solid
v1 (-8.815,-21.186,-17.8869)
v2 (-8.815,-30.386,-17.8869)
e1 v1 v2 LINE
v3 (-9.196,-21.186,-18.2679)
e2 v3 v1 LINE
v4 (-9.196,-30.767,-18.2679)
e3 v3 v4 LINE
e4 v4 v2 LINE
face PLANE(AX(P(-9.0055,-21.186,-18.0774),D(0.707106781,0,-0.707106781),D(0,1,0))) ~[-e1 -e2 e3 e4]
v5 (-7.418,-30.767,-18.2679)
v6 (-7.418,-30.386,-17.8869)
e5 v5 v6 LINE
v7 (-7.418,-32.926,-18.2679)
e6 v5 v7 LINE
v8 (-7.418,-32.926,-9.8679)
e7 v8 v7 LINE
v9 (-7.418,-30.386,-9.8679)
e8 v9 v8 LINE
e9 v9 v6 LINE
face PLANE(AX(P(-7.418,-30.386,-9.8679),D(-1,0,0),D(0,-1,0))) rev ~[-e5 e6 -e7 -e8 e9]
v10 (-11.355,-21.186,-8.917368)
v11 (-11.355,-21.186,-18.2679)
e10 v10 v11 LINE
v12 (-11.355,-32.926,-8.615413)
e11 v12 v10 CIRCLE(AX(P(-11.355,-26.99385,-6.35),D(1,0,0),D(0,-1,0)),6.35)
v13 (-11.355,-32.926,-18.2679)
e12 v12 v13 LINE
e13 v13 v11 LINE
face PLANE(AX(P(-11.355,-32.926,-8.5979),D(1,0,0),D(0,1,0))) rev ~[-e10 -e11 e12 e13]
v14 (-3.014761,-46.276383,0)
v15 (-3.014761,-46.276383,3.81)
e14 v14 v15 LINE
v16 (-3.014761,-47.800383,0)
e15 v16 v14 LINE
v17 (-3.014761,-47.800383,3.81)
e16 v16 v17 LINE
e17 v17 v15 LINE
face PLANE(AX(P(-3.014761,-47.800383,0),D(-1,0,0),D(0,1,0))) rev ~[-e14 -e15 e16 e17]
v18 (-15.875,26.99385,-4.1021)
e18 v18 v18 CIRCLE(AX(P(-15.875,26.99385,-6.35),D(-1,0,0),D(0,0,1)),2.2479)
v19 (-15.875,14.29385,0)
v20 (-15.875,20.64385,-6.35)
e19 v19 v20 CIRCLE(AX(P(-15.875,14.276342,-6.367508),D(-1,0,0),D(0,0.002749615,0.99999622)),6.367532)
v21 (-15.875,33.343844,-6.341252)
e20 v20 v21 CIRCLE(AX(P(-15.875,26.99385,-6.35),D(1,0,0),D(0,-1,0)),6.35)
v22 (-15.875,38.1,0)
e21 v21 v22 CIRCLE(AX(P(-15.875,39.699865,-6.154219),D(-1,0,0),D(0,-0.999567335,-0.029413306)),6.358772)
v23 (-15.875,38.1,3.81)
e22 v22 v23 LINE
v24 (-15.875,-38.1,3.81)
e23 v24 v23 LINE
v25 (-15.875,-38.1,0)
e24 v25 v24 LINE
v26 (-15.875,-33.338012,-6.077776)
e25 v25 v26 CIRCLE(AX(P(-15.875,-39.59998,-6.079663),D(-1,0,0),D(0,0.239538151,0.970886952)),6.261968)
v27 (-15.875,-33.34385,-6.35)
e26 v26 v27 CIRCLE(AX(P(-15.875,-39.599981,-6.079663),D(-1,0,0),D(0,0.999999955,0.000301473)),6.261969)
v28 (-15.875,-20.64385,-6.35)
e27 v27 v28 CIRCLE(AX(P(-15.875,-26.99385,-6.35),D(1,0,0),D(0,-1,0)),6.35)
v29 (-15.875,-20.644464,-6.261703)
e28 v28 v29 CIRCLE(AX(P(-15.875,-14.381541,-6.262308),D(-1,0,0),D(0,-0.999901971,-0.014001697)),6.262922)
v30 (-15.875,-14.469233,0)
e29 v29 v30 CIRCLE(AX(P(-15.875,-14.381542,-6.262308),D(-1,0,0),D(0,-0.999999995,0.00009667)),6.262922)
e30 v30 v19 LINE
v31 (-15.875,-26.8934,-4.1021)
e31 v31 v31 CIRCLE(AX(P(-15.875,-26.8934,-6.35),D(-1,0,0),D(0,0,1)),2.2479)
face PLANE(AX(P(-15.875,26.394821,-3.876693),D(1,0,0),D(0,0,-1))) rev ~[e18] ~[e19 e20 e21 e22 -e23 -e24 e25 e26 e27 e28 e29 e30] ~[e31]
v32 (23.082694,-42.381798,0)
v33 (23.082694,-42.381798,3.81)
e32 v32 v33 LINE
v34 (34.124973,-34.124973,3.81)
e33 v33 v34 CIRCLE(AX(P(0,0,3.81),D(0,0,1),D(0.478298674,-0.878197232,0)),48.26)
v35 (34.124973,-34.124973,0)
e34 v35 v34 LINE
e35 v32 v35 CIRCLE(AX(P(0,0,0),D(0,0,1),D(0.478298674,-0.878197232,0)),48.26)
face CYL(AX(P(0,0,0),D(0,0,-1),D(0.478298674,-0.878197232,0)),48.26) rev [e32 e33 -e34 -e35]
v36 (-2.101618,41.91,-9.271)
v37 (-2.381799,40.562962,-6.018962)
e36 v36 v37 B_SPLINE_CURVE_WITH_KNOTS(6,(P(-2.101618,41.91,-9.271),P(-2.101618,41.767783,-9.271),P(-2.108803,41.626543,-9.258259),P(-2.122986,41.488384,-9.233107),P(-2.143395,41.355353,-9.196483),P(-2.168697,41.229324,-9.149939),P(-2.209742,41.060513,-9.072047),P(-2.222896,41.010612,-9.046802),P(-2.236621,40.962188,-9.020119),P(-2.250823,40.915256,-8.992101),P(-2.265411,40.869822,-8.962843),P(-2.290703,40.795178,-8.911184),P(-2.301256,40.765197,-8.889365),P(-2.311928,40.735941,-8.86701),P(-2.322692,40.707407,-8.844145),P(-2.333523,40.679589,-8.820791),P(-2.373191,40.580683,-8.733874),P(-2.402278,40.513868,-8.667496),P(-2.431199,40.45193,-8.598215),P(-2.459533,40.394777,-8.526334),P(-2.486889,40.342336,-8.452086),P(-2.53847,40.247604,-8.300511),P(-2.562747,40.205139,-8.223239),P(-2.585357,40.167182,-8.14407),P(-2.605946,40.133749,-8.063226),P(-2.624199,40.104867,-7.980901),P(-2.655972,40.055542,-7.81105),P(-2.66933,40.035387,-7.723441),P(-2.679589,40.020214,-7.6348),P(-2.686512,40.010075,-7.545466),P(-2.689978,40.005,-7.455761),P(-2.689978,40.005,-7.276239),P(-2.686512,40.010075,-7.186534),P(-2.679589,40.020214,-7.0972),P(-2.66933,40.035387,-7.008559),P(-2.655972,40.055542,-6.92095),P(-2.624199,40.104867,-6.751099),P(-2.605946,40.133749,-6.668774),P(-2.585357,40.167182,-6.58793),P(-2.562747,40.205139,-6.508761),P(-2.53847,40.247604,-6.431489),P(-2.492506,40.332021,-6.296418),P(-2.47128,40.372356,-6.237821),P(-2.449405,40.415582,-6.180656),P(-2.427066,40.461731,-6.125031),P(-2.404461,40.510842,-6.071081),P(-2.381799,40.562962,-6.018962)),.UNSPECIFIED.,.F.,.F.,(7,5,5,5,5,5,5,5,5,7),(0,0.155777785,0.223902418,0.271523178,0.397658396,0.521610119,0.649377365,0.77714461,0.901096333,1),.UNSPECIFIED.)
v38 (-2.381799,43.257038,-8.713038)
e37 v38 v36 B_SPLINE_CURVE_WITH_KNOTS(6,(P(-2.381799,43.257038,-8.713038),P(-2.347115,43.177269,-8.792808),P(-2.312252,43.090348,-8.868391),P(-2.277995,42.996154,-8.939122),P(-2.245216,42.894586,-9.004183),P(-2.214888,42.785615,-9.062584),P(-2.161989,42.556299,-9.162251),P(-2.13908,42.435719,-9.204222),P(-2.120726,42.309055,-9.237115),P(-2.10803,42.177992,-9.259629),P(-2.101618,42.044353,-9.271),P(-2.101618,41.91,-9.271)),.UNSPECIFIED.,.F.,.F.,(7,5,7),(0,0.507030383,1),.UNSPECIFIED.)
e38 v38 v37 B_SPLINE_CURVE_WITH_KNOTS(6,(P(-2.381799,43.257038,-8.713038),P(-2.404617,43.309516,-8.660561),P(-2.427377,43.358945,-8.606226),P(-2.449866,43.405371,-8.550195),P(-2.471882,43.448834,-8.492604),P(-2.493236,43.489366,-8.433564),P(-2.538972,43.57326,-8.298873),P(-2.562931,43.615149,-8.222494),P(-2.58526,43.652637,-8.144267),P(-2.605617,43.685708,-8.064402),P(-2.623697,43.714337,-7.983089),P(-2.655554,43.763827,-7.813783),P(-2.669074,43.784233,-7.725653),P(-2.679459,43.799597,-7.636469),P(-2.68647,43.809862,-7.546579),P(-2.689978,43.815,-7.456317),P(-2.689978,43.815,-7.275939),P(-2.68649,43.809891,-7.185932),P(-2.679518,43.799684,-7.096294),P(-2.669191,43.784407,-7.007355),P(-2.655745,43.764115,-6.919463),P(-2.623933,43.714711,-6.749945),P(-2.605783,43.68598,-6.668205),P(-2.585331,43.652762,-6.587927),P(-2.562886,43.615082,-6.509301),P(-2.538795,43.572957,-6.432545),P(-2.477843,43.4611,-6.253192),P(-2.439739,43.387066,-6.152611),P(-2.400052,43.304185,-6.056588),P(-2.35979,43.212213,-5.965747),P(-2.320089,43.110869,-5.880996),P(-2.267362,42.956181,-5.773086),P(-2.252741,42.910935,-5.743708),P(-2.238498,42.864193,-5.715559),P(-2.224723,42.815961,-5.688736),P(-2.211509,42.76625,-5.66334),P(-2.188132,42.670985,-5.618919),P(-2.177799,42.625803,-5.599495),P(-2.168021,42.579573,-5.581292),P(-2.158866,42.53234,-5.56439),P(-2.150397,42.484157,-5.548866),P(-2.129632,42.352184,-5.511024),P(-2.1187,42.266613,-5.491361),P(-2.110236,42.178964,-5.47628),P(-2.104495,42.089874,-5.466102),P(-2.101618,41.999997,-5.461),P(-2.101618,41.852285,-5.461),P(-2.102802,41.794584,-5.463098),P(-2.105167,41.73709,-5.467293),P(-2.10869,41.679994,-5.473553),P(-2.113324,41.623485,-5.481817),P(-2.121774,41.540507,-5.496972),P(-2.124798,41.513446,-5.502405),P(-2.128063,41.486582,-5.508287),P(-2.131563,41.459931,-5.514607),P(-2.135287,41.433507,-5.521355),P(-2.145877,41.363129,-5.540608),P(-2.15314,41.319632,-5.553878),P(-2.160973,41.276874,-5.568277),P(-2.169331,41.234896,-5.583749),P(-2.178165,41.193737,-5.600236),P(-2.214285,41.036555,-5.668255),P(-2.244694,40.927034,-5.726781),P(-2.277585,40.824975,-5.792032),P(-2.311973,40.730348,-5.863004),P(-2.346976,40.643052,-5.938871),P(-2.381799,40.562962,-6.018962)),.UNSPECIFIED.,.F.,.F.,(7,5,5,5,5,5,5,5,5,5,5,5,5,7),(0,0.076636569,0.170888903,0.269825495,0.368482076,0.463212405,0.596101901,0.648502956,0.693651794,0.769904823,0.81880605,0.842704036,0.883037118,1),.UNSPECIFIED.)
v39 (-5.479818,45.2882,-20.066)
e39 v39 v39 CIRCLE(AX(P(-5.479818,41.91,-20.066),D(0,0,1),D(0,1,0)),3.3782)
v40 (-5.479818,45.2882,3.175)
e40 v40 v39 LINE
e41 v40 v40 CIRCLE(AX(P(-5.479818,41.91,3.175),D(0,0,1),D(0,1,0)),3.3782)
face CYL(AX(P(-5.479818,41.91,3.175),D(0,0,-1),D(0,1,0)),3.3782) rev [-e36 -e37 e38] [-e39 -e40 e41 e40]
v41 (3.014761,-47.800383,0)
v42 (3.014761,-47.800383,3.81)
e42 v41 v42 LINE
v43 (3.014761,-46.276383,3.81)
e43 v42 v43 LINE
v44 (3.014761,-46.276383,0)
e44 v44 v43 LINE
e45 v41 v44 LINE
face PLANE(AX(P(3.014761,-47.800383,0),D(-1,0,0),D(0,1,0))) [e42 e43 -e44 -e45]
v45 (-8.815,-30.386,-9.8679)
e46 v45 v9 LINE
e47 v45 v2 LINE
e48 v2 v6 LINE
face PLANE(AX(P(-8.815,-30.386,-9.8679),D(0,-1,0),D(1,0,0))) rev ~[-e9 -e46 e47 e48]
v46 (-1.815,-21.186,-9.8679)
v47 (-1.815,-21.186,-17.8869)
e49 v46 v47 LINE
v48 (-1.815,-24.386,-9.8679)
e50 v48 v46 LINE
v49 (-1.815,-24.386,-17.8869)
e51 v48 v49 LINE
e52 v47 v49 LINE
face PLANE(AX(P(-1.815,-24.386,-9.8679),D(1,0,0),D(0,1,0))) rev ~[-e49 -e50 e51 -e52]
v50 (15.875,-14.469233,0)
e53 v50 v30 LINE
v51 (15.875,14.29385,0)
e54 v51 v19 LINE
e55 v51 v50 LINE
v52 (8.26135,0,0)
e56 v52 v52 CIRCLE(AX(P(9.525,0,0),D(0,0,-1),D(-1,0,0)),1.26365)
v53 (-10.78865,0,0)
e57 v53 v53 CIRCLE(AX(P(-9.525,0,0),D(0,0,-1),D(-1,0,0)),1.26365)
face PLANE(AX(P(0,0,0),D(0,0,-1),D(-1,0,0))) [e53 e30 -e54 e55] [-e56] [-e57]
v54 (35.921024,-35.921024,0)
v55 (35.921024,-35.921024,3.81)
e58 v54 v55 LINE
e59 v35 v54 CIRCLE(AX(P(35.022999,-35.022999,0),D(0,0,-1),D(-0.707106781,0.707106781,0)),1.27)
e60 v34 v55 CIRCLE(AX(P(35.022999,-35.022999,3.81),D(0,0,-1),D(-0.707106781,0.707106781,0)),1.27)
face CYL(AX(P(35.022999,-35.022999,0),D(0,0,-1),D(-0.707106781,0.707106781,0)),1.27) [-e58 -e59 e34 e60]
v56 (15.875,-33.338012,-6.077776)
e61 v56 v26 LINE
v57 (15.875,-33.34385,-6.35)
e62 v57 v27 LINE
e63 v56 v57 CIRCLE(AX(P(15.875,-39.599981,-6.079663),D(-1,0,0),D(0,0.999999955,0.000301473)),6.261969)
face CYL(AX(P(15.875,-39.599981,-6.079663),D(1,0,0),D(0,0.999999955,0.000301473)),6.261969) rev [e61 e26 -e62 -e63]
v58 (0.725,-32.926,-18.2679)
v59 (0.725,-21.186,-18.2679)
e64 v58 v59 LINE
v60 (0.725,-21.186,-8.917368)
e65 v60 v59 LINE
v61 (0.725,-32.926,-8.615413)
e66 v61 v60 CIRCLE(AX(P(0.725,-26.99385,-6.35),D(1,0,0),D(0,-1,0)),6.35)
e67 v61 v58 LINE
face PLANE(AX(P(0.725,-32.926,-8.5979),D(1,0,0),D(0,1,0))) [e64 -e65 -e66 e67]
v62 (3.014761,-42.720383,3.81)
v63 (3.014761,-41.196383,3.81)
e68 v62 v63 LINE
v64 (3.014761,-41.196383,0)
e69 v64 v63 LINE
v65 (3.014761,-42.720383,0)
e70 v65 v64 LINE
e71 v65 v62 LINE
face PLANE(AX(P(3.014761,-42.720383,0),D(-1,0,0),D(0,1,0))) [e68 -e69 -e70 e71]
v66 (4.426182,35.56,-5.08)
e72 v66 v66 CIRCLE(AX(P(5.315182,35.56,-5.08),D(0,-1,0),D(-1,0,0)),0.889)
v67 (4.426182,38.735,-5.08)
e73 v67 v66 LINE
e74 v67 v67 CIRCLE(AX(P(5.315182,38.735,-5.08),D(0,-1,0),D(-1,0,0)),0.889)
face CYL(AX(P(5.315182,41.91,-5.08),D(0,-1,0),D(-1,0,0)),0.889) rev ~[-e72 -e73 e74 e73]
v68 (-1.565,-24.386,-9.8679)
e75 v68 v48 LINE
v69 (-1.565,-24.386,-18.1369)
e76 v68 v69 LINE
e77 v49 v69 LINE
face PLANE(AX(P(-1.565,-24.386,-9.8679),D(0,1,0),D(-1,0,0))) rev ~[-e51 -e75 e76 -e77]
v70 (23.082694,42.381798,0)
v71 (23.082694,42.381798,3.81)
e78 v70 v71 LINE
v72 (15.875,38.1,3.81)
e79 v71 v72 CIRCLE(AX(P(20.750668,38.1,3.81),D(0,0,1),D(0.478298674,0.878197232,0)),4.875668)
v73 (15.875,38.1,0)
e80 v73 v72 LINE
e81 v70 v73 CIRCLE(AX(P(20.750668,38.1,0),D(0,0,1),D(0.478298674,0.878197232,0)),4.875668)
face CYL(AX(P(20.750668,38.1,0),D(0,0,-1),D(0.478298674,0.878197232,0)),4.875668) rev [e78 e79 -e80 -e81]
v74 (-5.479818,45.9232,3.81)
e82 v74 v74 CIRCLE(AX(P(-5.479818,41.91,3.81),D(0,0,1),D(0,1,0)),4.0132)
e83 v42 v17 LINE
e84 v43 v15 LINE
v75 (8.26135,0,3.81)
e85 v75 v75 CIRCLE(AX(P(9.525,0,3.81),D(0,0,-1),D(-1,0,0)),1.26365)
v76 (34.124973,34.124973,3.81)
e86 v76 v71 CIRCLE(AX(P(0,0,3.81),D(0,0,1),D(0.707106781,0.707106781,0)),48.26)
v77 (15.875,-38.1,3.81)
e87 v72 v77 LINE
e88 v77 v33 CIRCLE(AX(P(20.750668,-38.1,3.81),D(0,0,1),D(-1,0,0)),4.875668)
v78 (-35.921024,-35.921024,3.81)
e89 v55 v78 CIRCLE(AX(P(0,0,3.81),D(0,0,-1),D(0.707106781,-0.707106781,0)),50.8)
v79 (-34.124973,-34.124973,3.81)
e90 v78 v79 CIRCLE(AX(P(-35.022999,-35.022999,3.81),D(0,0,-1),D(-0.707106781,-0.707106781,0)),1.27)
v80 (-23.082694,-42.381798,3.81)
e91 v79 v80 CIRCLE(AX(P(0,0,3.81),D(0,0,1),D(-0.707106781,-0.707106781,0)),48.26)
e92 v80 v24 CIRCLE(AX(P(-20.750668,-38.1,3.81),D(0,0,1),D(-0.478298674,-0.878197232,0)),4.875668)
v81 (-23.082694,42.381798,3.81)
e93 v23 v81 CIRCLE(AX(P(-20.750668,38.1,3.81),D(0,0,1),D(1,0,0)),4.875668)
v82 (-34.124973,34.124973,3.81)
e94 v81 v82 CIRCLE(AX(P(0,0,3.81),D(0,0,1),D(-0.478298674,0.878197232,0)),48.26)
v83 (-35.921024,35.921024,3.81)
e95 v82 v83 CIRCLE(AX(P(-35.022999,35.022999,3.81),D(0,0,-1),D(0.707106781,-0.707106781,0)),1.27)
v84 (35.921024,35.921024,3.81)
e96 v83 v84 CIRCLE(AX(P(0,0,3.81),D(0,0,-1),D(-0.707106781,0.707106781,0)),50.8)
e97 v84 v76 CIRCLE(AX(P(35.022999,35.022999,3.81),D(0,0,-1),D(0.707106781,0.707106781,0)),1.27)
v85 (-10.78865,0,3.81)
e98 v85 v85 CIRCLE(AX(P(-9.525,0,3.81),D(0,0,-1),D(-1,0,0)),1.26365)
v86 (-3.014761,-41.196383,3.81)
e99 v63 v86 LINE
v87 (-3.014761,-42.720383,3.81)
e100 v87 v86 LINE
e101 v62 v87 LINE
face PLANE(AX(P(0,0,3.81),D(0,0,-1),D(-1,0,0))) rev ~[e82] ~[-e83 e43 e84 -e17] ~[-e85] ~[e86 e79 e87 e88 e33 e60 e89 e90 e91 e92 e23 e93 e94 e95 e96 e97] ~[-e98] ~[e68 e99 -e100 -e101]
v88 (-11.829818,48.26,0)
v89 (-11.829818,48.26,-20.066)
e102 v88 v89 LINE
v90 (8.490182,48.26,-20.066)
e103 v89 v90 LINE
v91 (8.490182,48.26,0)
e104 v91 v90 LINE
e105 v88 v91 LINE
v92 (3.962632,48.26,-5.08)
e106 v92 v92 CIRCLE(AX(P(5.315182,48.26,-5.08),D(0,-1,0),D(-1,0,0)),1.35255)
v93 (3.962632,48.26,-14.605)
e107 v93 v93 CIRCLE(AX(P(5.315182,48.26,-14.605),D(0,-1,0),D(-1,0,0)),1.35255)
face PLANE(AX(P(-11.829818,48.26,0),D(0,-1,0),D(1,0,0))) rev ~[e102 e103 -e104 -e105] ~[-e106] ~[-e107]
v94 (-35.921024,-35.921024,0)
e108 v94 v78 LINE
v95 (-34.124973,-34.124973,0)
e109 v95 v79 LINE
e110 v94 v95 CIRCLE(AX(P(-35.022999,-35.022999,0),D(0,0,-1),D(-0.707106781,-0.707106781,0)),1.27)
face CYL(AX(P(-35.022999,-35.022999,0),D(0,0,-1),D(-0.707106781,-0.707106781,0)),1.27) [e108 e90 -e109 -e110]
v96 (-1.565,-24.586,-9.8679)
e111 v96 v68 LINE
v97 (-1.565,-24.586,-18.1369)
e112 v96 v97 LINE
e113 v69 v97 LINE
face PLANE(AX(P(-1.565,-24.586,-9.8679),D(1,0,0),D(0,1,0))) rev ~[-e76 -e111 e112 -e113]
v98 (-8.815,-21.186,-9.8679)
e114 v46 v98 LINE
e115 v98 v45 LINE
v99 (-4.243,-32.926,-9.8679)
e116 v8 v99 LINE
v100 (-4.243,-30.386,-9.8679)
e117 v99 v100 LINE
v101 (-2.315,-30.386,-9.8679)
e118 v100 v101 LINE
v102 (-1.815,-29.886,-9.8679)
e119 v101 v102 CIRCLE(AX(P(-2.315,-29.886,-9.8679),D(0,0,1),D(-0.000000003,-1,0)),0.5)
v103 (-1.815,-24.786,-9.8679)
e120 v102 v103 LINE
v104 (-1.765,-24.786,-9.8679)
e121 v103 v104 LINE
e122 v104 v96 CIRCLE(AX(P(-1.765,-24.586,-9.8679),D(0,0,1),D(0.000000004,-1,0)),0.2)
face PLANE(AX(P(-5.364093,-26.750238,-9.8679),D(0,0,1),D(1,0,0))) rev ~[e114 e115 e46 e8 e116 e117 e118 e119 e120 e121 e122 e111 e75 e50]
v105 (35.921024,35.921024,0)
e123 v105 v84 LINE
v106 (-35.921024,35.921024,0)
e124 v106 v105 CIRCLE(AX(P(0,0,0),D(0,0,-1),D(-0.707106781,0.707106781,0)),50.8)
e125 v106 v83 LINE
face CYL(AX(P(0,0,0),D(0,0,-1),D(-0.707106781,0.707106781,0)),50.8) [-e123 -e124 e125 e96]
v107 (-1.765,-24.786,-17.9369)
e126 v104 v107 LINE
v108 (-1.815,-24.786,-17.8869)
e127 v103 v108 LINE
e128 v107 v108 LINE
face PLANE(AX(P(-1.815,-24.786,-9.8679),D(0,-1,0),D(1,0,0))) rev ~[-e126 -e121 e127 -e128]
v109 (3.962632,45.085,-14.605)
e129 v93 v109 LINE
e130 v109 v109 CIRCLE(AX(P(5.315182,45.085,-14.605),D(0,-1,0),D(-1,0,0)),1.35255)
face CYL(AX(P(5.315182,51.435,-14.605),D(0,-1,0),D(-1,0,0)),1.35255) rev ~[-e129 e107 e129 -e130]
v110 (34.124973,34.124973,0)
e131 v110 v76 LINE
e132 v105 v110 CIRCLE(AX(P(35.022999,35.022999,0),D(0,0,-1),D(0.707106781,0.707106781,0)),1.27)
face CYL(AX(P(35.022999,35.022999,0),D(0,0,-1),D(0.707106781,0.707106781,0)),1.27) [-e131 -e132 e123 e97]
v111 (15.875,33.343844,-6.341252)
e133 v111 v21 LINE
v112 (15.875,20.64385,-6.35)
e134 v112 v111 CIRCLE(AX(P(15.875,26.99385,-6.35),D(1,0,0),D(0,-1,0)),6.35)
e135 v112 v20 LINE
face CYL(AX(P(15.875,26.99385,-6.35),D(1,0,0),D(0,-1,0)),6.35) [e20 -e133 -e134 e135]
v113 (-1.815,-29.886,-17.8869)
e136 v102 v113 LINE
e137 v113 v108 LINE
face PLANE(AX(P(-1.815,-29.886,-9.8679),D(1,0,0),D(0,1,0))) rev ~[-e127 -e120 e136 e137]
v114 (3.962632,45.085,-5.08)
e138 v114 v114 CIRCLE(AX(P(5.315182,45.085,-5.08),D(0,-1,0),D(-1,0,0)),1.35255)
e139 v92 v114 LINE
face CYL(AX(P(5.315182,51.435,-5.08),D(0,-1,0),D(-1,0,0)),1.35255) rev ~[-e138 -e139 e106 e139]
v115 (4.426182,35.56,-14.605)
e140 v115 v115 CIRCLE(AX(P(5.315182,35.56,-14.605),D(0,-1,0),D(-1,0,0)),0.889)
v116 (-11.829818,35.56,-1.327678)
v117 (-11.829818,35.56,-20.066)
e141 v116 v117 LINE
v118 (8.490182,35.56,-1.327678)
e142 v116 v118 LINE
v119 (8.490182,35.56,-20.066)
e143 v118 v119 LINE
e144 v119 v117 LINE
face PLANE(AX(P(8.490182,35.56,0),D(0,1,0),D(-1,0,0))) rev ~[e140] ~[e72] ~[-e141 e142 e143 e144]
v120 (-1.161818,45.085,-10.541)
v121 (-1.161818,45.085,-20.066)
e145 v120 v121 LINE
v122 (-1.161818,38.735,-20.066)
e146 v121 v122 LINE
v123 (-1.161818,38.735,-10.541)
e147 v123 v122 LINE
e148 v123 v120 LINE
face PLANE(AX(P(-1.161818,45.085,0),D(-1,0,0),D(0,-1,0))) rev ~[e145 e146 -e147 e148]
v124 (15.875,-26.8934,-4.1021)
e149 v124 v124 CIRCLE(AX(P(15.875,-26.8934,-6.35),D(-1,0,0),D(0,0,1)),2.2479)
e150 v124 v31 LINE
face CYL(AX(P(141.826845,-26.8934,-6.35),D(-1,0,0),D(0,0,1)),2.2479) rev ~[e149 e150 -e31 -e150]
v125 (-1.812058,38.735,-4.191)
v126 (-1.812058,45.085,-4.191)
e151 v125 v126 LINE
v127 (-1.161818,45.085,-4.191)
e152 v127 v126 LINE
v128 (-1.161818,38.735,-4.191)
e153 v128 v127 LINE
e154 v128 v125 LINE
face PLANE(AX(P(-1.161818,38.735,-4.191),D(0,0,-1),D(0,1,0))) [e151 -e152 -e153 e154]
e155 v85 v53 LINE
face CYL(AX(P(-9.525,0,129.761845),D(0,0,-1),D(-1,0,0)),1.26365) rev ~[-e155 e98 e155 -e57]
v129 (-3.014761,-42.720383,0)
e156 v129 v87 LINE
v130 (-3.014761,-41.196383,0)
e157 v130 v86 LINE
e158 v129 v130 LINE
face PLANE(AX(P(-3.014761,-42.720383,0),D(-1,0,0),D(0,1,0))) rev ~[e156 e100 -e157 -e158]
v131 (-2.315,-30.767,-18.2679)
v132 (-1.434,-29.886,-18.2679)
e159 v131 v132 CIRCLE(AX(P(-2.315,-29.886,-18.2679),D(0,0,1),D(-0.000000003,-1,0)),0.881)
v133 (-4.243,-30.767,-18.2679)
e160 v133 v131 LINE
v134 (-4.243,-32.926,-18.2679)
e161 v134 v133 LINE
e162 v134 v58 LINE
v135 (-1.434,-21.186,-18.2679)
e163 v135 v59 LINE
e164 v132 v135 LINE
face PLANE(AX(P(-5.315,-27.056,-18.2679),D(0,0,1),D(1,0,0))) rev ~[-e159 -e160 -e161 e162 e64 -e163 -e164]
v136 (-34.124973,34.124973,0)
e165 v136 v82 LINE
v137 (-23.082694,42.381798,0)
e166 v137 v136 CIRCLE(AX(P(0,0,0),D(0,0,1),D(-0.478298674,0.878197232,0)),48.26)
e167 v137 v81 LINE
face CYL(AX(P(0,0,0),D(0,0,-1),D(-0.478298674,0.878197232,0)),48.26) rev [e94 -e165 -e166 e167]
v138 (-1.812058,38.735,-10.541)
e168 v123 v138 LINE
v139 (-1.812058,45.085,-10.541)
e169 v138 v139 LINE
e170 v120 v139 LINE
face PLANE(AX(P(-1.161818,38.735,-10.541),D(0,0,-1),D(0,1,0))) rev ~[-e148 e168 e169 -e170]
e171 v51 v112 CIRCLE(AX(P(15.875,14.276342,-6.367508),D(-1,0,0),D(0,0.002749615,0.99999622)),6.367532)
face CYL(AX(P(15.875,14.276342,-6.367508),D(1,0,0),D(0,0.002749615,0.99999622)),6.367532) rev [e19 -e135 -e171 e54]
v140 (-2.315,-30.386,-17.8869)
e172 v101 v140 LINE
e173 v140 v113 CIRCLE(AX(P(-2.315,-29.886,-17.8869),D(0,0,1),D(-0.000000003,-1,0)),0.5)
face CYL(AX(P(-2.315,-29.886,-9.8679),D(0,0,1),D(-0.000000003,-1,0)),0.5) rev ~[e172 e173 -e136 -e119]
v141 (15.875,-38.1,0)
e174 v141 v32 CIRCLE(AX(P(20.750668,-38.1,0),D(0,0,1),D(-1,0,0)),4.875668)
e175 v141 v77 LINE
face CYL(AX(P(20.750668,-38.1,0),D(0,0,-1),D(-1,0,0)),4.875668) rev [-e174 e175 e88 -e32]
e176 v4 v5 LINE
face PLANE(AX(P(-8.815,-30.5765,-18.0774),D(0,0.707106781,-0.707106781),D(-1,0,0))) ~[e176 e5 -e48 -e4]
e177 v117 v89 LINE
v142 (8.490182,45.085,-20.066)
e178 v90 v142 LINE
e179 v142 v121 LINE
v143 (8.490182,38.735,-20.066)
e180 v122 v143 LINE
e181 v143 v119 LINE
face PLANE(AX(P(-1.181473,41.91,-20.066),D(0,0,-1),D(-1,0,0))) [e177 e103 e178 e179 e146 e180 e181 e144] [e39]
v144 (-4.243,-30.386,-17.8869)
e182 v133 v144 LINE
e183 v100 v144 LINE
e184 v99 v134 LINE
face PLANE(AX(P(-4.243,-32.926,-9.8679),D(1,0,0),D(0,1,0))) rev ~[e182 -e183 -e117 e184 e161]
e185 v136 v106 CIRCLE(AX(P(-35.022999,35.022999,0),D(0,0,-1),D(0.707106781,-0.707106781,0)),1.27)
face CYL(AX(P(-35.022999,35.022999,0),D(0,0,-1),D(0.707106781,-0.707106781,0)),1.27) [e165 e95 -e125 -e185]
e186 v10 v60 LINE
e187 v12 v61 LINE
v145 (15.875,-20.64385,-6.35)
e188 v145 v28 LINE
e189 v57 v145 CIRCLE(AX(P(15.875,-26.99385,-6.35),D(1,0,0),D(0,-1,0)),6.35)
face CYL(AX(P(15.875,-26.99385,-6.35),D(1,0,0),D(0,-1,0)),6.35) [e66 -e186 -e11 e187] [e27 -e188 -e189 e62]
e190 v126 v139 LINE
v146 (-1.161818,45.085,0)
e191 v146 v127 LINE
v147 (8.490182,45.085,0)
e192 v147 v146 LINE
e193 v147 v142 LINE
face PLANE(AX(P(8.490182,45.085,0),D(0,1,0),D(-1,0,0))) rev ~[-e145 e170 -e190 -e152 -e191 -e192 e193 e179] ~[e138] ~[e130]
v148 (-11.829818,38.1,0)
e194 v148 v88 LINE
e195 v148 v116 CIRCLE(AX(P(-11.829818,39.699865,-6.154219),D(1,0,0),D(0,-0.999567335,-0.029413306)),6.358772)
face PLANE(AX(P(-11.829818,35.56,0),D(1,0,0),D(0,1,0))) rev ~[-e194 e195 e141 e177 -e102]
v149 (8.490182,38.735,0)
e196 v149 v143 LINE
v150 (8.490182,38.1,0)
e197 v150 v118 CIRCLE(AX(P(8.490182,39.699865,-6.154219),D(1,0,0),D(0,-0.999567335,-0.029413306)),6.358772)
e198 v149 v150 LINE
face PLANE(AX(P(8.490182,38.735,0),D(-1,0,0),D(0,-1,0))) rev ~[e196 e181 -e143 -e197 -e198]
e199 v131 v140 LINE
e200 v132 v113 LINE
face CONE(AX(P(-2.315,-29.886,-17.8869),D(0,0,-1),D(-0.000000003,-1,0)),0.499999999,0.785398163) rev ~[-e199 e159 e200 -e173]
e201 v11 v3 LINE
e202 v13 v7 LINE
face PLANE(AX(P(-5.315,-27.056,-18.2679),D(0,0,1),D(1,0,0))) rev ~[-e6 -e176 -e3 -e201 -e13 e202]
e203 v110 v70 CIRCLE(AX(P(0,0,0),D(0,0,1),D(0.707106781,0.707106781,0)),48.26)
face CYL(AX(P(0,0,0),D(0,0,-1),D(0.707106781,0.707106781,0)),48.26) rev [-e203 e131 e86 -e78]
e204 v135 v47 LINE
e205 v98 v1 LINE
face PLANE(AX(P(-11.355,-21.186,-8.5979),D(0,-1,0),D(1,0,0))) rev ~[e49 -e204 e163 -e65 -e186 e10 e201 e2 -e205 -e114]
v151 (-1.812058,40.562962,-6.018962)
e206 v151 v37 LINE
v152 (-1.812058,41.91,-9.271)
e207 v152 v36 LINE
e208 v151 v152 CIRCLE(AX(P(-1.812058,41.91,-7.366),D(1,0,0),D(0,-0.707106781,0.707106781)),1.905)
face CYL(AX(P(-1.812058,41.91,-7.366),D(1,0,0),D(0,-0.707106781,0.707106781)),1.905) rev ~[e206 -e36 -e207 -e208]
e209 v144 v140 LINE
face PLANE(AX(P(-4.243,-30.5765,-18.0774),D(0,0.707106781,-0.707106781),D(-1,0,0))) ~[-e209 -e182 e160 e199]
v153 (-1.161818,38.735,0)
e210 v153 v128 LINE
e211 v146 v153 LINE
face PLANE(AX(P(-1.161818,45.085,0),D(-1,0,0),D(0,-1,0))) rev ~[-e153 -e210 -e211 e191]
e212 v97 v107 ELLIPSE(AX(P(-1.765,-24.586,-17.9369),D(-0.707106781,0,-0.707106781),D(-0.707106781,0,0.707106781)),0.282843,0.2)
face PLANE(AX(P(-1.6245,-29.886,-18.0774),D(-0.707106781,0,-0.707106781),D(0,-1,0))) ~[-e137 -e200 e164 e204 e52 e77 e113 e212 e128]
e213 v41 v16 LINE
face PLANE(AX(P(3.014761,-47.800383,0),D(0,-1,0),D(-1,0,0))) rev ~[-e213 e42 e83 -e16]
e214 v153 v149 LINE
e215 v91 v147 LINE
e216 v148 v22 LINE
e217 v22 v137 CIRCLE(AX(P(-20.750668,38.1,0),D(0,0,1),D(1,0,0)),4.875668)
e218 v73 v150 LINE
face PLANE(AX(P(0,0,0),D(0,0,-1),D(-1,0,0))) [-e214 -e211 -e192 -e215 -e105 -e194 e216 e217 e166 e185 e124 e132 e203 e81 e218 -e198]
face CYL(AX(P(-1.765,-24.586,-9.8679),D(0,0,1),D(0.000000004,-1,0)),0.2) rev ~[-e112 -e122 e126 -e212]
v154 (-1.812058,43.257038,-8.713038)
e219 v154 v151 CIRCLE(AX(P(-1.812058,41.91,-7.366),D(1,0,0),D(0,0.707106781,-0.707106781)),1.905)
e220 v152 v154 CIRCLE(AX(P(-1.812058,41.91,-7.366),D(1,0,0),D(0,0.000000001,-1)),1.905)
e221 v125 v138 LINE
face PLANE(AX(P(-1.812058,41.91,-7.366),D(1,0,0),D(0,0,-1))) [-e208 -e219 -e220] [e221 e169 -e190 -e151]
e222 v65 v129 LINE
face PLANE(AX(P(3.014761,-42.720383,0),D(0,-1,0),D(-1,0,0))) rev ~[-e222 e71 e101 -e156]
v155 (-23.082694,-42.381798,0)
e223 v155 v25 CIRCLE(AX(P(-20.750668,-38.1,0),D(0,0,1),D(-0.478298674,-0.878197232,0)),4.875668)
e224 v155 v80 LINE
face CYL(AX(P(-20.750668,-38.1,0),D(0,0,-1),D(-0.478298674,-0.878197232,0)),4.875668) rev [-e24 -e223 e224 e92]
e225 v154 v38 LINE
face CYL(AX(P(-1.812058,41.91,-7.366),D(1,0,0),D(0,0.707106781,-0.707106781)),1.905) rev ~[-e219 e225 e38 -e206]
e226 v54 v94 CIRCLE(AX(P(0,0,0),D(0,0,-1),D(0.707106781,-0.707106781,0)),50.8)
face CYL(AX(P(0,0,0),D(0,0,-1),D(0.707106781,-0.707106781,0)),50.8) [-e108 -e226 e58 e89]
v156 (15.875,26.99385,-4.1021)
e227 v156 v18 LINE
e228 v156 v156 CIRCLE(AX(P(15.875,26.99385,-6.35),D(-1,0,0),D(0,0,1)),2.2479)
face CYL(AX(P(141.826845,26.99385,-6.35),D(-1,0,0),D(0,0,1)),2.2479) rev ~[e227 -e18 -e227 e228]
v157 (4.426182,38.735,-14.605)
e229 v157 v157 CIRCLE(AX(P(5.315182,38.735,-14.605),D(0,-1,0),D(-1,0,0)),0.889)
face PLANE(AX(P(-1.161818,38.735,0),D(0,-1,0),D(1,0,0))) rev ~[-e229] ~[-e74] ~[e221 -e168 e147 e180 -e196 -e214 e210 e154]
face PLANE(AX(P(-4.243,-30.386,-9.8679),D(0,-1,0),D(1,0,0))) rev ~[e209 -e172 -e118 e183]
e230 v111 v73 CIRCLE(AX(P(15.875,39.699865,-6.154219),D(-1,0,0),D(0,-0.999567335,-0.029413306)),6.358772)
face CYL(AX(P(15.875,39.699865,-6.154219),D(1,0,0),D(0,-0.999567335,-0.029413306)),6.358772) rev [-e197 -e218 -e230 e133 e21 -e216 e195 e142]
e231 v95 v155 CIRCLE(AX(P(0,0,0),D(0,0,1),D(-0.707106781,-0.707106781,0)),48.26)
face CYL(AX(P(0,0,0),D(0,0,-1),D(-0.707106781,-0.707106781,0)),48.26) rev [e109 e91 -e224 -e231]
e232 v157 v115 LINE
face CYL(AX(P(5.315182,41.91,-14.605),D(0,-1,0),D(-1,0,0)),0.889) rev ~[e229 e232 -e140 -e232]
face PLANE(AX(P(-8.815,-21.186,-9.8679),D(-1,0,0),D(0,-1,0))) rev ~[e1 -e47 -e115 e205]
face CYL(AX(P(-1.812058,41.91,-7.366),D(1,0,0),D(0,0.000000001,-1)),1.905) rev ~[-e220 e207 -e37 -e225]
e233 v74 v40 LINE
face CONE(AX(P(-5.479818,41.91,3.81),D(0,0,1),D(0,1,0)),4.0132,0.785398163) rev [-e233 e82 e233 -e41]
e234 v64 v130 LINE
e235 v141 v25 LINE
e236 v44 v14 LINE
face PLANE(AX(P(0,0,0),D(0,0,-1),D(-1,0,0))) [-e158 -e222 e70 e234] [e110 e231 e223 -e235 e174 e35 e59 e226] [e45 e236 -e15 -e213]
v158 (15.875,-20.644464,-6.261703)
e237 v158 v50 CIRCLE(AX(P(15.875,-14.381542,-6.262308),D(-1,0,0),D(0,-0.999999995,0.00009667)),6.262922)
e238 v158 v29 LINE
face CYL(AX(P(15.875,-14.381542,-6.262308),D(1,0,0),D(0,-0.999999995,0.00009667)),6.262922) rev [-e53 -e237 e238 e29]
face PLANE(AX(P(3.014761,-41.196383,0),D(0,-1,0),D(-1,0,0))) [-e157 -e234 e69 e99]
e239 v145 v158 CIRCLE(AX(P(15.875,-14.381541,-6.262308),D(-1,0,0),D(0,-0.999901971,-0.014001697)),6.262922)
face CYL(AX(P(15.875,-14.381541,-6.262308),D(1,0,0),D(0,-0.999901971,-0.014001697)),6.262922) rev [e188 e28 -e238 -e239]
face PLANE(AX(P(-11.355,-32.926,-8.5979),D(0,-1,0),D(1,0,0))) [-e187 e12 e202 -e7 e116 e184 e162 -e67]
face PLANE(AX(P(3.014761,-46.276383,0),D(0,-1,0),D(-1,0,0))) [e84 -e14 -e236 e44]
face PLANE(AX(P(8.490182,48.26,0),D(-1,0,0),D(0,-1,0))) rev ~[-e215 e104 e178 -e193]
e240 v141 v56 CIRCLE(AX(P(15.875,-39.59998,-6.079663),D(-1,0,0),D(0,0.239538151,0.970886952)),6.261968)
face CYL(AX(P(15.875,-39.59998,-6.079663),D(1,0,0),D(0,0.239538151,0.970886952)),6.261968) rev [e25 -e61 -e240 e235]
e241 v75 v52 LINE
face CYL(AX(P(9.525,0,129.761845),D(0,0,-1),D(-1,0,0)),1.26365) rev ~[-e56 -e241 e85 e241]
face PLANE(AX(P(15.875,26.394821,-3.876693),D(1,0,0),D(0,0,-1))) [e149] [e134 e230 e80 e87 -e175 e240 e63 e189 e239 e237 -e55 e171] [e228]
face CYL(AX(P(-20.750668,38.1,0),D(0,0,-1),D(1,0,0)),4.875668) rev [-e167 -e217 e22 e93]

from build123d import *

# Parameters (mm, degrees)
MAIN_BODY_DEPTH                  = 3.81
CROSS_SCREW_BOSSES_DEPTH         = 31.75
F_8_CLEARANCE_HOLE1_D            = 4.4958
BALLOON_MONOFILAMENT_HOLE_D      = 2.5273
PARACHUTE_MONOFILAMENT_HOLE_D    = 2.5273
SKETCH21_W                       = 12.08
SKETCH21_H                       = 11.74
HOT_WIRE_CUTTER_HOLDER_DEPTH     = 9.67
CUT_EXTRUDE10_START              = -1.27
CUT_EXTRUDE10_DEPTH              = 63.383576094
CHAMFER8_SIZE                    = 0.381
SKETCH22_W                       = 6.029522694
SKETCH22_H                       = 1.524
SATELLITE_CABLE_MANAGEMENT_DEPTH = 66.050272386
SKETCH23_R                       = 3.175
BOSS_EXTRUDE7_DEPTH              = 20.066
SKETCH26_W                       = 6.35
SKETCH26_H                       = 6.35
CUT_EXTRUDE11_DEPTH              = 0.65024
CUT_EXTRUDE12_REACH              = 68.598
CUT_EXTRUDE12_END_RADIUS         = 3.3782
F_2_CLEARANCE_HOLE1_D            = 2.7051
F_2_CLEARANCE_HOLE1_DEPTH        = 3.175
TAP_DRILL_FOR_2_56_TAP1_D        = 1.778
TAP_DRILL_FOR_2_56_TAP1_DEPTH    = 3.175


with BuildPart() as part:
    # Sketch3 → Main body (new body)
    with BuildSketch(Plane.XY):
        with BuildLine():
            Line((-15.875, -38.1), (-15.875, 38.1))
            ThreePointArc((-15.875, 38.1), (-18.260491841, 42.291797068), (-23.082694008, 42.38179842))
            ThreePointArc((-23.082694008, 42.38179842), (-28.900226452, 38.649767283), (-34.12497326, 34.12497326))
            ThreePointArc((-34.12497326, 34.12497326), (-35.921024484, 34.12497326), (-35.921024484, 35.921024484))
            ThreePointArc((-35.921024484, 35.921024484), (0, 50.8), (35.921024484, 35.921024484))
            ThreePointArc((35.921024484, 35.921024484), (35.921024484, 34.12497326), (34.12497326, 34.12497326))
            ThreePointArc((34.12497326, 34.12497326), (28.900226452, 38.649767283), (23.082694008, 42.38179842))
            ThreePointArc((23.082694008, 42.38179842), (18.260491841, 42.291797068), (15.875, 38.1))
            Line((15.875, 38.1), (15.875, -38.1))
            ThreePointArc((15.875, -38.1), (18.260491841, -42.291797068), (23.082694008, -42.38179842))
            ThreePointArc((23.082694008, -42.38179842), (28.900226452, -38.649767283), (34.12497326, -34.12497326))
            ThreePointArc((34.12497326, -34.12497326), (35.921024484, -34.12497326), (35.921024484, -35.921024484))
            ThreePointArc((35.921024484, -35.921024484), (0, -50.8), (-35.921024484, -35.921024484))
            ThreePointArc((-35.921024484, -35.921024484), (-35.921024484, -34.12497326), (-34.12497326, -34.12497326))
            ThreePointArc((-34.12497326, -34.12497326), (-28.900226452, -38.649767283), (-23.082694008, -42.38179842))
            ThreePointArc((-23.082694008, -42.38179842), (-18.260491841, -42.291797068), (-15.875, -38.1))
        make_face()
    extrude(amount=MAIN_BODY_DEPTH)

    # Sketch5 → Cross screw bosses (add)
    with BuildSketch(Plane(origin=(15.875, 0, 0), x_dir=(0, 0, -1), z_dir=(1, 0, 0))):
        with BuildLine():
            Line((0, 38.1), (0, 26.99385))
            Line((0, 26.99385), (0, 14.29385))
            ThreePointArc((0, 14.29385), (1.86498297, 18.77886703), (6.35, 20.64385))
            ThreePointArc((6.35, 20.64385), (12.699998494, 26.998224058), (6.341251887, 33.343843974))
            ThreePointArc((6.341251887, 33.343843974), (2.338844583, 34.612930799), (0, 38.1))
        make_face()
        with BuildLine():
            ThreePointArc((6.261703048, -20.644463916), (1.864650947, -18.840779739), (0, -14.469233029))
            Line((0, -14.469233029), (0, -26.99385))
            Line((0, -26.99385), (0, -38.1))
            ThreePointArc((0, -38.1), (2.217611083, -34.670801888), (6.077775616, -33.338012189))
            ThreePointArc((6.077775616, -33.338012189), (6.213919542, -33.33945129), (6.35, -33.34385))
            ThreePointArc((6.35, -33.34385), (12.7, -26.99385), (6.35, -20.64385))
            ThreePointArc((6.35, -20.64385), (6.305852606, -20.644312569), (6.261703048, -20.644463916))
        make_face()
    extrude(amount=-CROSS_SCREW_BOSSES_DEPTH)

    # 8 Clearance Hole1 (through all)
    with Locations(Plane(origin=(15.875, 0, 0), x_dir=(0, 0, -1), z_dir=(1, 0, 0))):
        with Locations((6.35, 26.99385), (6.35, -26.893399733)):
            Hole(F_8_CLEARANCE_HOLE1_D / 2)

    # Balloon monofilament hole (through all)
    with Locations(Plane.XY.offset(3.81)):
        with Locations((-9.525, 0)):
            Hole(BALLOON_MONOFILAMENT_HOLE_D / 2)

    # Parachute monofilament hole (through all)
    with Locations(Plane.XY.offset(3.81)):
        with Locations((9.525, 0)):
            Hole(PARACHUTE_MONOFILAMENT_HOLE_D / 2)

    # Sketch21 → Hot wire cutter holder (add)
    with BuildSketch(Plane.XY.offset(-8.5979)):
        with Locations((-5.315, -27.056)):
            Rectangle(SKETCH21_W, SKETCH21_H)
    extrude(amount=-HOT_WIRE_CUTTER_HOLDER_DEPTH)

    # Sketch21_10 → Cut-Extrude10 (cut, through all)
    with BuildSketch(Plane.XY.offset(-8.5979).offset(CUT_EXTRUDE10_START)):
        with BuildLine():
            Line((-4.243, -30.386), (-2.315, -30.386))
            ThreePointArc((-2.315, -30.386), (-1.961446609, -30.239553391), (-1.815, -29.886))
            Line((-1.815, -29.886), (-1.815, -24.786))
            Line((-1.815, -24.786), (-1.765, -24.786))
            ThreePointArc((-1.765, -24.786), (-1.623578644, -24.727421356), (-1.565, -24.586))
            Line((-1.565, -24.586), (-1.565, -24.386))
            Line((-1.565, -24.386), (-1.815, -24.386))
            Line((-1.815, -24.386), (-1.815, -21.186))
            Line((-1.815, -21.186), (-8.815, -21.186))
            Line((-8.815, -21.186), (-8.815, -30.386))
            Line((-8.815, -30.386), (-7.418, -30.386))
            Line((-7.418, -30.386), (-7.418, -32.926))
            Line((-7.418, -32.926), (-4.243, -32.926))
            Line((-4.243, -32.926), (-4.243, -30.386))
        make_face()
    extrude(amount=-CUT_EXTRUDE10_DEPTH, mode=Mode.SUBTRACT)

    # Chamfer8
    chamfer8_edges = [part.edges().sort_by_distance(p)[0] for p in [
        (-8.1165, -30.386, -18.2679),
        (-8.815, -25.786, -18.2679),
        (-3.279, -30.386, -18.2679),
        (-1.961446609, -30.239553391, -18.2679),
        (-1.815, -27.336, -18.2679),
    ]]
    chamfer(chamfer8_edges, length=CHAMFER8_SIZE)

    # Sketch22 → satellite cable management (cut, through all)
    with BuildSketch(Plane(origin=(0, 0, 0), x_dir=(-1, 0, 0), z_dir=(0, 0, -1))):
        with Locations((0, -47.038383029)):
            Rectangle(SKETCH22_W, SKETCH22_H)
        with Locations((0, -41.958383029)):
            Rectangle(SKETCH22_W, SKETCH22_H)
    extrude(amount=-SATELLITE_CABLE_MANAGEMENT_DEPTH, mode=Mode.SUBTRACT)

    # Sketch23 → Boss-Extrude7 (add)
    with BuildSketch(Plane(origin=(0, 0, 0), x_dir=(-1, 0, 0), z_dir=(0, 0, -1))):
        Polygon((-8.490181608, 45.085), (1.161818392, 45.085), (1.161818392, 38.735), (-8.490181608, 38.735), (-8.490181608, 35.56), (11.829818392, 35.56), (11.829818392, 48.26), (-8.490181608, 48.26), align=None)
        with Locations((5.479818392, 41.91)):
            Circle(SKETCH23_R, mode=Mode.SUBTRACT)
    extrude(amount=BOSS_EXTRUDE7_DEPTH)

    # Sketch25 → 1_4 QR pin hole (revolve, cut)
    with BuildSketch(Plane(origin=(-5.479818392, 41.91, -20.066), x_dir=(0, 1, 0), z_dir=(1, 0, 0))):
        Polygon((0, 0), (0, 23.876), (4.0132, 23.876), (3.3782, 23.241), (3.3782, 0), align=None)
    revolve(axis=Axis((-5.479818392, 41.91, -26.416), (0, 0, 1)), mode=Mode.SUBTRACT)

    # Sketch26 → Cut-Extrude11 (cut)
    with BuildSketch(Plane(origin=(-1.161818392, 0, 0), x_dir=(0, 0, -1), z_dir=(1, 0, 0))):
        with Locations((7.366, 41.91)):
            Rectangle(SKETCH26_W, SKETCH26_H)
    extrude(amount=-CUT_EXTRUDE11_DEPTH, mode=Mode.SUBTRACT)

    # Cut-Extrude12: up to this cylinder (the profile starts outside it)
    cut_extrude12_end = Plane(origin=(-5.479818392, 41.91, -7.366), z_dir=(0, 0, -1)) * Cylinder(CUT_EXTRUDE12_END_RADIUS, 146.095802, mode=Mode.PRIVATE)
    # Sketch27 → Cut-Extrude12 (cut, up to the surface)
    with BuildSketch(Plane(origin=(-1.812058392, 0, 0), x_dir=(0, 0, -1), z_dir=(1, 0, 0)), mode=Mode.PRIVATE) as cut_extrude12_sk1:
        with BuildLine():
            ThreePointArc((9.271, 41.91), (9.125990509, 42.639011939), (8.713038418, 43.257038418))
            Line((8.713038418, 43.257038418), (6.018961582, 40.562961582))
            ThreePointArc((6.018961582, 40.562961582), (8.095011939, 40.150009491), (9.271, 41.91))
        make_face()
    cut_extrude12_tool1 = extrude(cut_extrude12_sk1.sketch, amount=-CUT_EXTRUDE12_REACH, mode=Mode.PRIVATE) - cut_extrude12_end
    add(cut_extrude12_tool1.solids().sort_by_distance((-1.812058, 41.338299, -7.937701))[0], mode=Mode.SUBTRACT)
    # Sketch27 → Cut-Extrude12 (cut, up to the surface)
    with BuildSketch(Plane(origin=(-1.812058392, 0, 0), x_dir=(0, 0, -1), z_dir=(1, 0, 0)), mode=Mode.PRIVATE) as cut_extrude12_sk2:
        with BuildLine():
            Line((6.018961582, 40.562961582), (8.713038418, 43.257038418))
            ThreePointArc((8.713038418, 43.257038418), (6.018961582, 43.257038418), (6.018961582, 40.562961582))
        make_face()
    cut_extrude12_tool2 = extrude(cut_extrude12_sk2.sketch, amount=-CUT_EXTRUDE12_REACH, mode=Mode.PRIVATE) - cut_extrude12_end
    add(cut_extrude12_tool2.solids().sort_by_distance((-1.812058, 42.481701, -6.794299))[0], mode=Mode.SUBTRACT)
    # Sketch27 → Cut-Extrude12 (cut, up to the surface)
    with BuildSketch(Plane(origin=(-1.812058392, 0, 0), x_dir=(0, 0, -1), z_dir=(1, 0, 0)), mode=Mode.PRIVATE) as cut_extrude12_sk3:
        with BuildLine():
            ThreePointArc((9.271, 41.91), (9.125990509, 42.639011939), (8.713038418, 43.257038418))
            Line((8.713038418, 43.257038418), (6.018961582, 40.562961582))
            ThreePointArc((6.018961582, 40.562961582), (8.095011939, 40.150009491), (9.271, 41.91))
        make_face()
    cut_extrude12_tool3 = extrude(cut_extrude12_sk3.sketch, amount=-CUT_EXTRUDE12_REACH, mode=Mode.PRIVATE) - cut_extrude12_end
    add(cut_extrude12_tool3.solids().sort_by_distance((-1.812058, 41.338299, -7.937701))[0], mode=Mode.SUBTRACT)
    # Sketch27 → Cut-Extrude12 (cut, up to the surface)
    with BuildSketch(Plane(origin=(-1.812058392, 0, 0), x_dir=(0, 0, -1), z_dir=(1, 0, 0)), mode=Mode.PRIVATE) as cut_extrude12_sk4:
        with BuildLine():
            Line((6.018961582, 40.562961582), (8.713038418, 43.257038418))
            ThreePointArc((8.713038418, 43.257038418), (6.018961582, 43.257038418), (6.018961582, 40.562961582))
        make_face()
    cut_extrude12_tool4 = extrude(cut_extrude12_sk4.sketch, amount=-CUT_EXTRUDE12_REACH, mode=Mode.PRIVATE) - cut_extrude12_end
    add(cut_extrude12_tool4.solids().sort_by_distance((-1.812058, 42.481701, -6.794299))[0], mode=Mode.SUBTRACT)

    # 2 Clearance Hole1
    with Locations(Plane(origin=(0, 48.26, 0), x_dir=(1, 0, 0), z_dir=(0, 1, 0))):
        with Locations((5.315181608, 5.08), (5.315181608, 14.605)):
            Hole(F_2_CLEARANCE_HOLE1_D / 2, depth=F_2_CLEARANCE_HOLE1_DEPTH)

    # Tap Drill for _2-56 Tap1
    with Locations(Plane(origin=(0, 38.735, 0), x_dir=(1, 0, 0), z_dir=(0, 1, 0))):
        with Locations((5.315181608, 14.605), (5.315181608, 5.08)):
            Hole(TAP_DRILL_FOR_2_56_TAP1_D / 2, depth=TAP_DRILL_FOR_2_56_TAP1_DEPTH)


solid = part.part
